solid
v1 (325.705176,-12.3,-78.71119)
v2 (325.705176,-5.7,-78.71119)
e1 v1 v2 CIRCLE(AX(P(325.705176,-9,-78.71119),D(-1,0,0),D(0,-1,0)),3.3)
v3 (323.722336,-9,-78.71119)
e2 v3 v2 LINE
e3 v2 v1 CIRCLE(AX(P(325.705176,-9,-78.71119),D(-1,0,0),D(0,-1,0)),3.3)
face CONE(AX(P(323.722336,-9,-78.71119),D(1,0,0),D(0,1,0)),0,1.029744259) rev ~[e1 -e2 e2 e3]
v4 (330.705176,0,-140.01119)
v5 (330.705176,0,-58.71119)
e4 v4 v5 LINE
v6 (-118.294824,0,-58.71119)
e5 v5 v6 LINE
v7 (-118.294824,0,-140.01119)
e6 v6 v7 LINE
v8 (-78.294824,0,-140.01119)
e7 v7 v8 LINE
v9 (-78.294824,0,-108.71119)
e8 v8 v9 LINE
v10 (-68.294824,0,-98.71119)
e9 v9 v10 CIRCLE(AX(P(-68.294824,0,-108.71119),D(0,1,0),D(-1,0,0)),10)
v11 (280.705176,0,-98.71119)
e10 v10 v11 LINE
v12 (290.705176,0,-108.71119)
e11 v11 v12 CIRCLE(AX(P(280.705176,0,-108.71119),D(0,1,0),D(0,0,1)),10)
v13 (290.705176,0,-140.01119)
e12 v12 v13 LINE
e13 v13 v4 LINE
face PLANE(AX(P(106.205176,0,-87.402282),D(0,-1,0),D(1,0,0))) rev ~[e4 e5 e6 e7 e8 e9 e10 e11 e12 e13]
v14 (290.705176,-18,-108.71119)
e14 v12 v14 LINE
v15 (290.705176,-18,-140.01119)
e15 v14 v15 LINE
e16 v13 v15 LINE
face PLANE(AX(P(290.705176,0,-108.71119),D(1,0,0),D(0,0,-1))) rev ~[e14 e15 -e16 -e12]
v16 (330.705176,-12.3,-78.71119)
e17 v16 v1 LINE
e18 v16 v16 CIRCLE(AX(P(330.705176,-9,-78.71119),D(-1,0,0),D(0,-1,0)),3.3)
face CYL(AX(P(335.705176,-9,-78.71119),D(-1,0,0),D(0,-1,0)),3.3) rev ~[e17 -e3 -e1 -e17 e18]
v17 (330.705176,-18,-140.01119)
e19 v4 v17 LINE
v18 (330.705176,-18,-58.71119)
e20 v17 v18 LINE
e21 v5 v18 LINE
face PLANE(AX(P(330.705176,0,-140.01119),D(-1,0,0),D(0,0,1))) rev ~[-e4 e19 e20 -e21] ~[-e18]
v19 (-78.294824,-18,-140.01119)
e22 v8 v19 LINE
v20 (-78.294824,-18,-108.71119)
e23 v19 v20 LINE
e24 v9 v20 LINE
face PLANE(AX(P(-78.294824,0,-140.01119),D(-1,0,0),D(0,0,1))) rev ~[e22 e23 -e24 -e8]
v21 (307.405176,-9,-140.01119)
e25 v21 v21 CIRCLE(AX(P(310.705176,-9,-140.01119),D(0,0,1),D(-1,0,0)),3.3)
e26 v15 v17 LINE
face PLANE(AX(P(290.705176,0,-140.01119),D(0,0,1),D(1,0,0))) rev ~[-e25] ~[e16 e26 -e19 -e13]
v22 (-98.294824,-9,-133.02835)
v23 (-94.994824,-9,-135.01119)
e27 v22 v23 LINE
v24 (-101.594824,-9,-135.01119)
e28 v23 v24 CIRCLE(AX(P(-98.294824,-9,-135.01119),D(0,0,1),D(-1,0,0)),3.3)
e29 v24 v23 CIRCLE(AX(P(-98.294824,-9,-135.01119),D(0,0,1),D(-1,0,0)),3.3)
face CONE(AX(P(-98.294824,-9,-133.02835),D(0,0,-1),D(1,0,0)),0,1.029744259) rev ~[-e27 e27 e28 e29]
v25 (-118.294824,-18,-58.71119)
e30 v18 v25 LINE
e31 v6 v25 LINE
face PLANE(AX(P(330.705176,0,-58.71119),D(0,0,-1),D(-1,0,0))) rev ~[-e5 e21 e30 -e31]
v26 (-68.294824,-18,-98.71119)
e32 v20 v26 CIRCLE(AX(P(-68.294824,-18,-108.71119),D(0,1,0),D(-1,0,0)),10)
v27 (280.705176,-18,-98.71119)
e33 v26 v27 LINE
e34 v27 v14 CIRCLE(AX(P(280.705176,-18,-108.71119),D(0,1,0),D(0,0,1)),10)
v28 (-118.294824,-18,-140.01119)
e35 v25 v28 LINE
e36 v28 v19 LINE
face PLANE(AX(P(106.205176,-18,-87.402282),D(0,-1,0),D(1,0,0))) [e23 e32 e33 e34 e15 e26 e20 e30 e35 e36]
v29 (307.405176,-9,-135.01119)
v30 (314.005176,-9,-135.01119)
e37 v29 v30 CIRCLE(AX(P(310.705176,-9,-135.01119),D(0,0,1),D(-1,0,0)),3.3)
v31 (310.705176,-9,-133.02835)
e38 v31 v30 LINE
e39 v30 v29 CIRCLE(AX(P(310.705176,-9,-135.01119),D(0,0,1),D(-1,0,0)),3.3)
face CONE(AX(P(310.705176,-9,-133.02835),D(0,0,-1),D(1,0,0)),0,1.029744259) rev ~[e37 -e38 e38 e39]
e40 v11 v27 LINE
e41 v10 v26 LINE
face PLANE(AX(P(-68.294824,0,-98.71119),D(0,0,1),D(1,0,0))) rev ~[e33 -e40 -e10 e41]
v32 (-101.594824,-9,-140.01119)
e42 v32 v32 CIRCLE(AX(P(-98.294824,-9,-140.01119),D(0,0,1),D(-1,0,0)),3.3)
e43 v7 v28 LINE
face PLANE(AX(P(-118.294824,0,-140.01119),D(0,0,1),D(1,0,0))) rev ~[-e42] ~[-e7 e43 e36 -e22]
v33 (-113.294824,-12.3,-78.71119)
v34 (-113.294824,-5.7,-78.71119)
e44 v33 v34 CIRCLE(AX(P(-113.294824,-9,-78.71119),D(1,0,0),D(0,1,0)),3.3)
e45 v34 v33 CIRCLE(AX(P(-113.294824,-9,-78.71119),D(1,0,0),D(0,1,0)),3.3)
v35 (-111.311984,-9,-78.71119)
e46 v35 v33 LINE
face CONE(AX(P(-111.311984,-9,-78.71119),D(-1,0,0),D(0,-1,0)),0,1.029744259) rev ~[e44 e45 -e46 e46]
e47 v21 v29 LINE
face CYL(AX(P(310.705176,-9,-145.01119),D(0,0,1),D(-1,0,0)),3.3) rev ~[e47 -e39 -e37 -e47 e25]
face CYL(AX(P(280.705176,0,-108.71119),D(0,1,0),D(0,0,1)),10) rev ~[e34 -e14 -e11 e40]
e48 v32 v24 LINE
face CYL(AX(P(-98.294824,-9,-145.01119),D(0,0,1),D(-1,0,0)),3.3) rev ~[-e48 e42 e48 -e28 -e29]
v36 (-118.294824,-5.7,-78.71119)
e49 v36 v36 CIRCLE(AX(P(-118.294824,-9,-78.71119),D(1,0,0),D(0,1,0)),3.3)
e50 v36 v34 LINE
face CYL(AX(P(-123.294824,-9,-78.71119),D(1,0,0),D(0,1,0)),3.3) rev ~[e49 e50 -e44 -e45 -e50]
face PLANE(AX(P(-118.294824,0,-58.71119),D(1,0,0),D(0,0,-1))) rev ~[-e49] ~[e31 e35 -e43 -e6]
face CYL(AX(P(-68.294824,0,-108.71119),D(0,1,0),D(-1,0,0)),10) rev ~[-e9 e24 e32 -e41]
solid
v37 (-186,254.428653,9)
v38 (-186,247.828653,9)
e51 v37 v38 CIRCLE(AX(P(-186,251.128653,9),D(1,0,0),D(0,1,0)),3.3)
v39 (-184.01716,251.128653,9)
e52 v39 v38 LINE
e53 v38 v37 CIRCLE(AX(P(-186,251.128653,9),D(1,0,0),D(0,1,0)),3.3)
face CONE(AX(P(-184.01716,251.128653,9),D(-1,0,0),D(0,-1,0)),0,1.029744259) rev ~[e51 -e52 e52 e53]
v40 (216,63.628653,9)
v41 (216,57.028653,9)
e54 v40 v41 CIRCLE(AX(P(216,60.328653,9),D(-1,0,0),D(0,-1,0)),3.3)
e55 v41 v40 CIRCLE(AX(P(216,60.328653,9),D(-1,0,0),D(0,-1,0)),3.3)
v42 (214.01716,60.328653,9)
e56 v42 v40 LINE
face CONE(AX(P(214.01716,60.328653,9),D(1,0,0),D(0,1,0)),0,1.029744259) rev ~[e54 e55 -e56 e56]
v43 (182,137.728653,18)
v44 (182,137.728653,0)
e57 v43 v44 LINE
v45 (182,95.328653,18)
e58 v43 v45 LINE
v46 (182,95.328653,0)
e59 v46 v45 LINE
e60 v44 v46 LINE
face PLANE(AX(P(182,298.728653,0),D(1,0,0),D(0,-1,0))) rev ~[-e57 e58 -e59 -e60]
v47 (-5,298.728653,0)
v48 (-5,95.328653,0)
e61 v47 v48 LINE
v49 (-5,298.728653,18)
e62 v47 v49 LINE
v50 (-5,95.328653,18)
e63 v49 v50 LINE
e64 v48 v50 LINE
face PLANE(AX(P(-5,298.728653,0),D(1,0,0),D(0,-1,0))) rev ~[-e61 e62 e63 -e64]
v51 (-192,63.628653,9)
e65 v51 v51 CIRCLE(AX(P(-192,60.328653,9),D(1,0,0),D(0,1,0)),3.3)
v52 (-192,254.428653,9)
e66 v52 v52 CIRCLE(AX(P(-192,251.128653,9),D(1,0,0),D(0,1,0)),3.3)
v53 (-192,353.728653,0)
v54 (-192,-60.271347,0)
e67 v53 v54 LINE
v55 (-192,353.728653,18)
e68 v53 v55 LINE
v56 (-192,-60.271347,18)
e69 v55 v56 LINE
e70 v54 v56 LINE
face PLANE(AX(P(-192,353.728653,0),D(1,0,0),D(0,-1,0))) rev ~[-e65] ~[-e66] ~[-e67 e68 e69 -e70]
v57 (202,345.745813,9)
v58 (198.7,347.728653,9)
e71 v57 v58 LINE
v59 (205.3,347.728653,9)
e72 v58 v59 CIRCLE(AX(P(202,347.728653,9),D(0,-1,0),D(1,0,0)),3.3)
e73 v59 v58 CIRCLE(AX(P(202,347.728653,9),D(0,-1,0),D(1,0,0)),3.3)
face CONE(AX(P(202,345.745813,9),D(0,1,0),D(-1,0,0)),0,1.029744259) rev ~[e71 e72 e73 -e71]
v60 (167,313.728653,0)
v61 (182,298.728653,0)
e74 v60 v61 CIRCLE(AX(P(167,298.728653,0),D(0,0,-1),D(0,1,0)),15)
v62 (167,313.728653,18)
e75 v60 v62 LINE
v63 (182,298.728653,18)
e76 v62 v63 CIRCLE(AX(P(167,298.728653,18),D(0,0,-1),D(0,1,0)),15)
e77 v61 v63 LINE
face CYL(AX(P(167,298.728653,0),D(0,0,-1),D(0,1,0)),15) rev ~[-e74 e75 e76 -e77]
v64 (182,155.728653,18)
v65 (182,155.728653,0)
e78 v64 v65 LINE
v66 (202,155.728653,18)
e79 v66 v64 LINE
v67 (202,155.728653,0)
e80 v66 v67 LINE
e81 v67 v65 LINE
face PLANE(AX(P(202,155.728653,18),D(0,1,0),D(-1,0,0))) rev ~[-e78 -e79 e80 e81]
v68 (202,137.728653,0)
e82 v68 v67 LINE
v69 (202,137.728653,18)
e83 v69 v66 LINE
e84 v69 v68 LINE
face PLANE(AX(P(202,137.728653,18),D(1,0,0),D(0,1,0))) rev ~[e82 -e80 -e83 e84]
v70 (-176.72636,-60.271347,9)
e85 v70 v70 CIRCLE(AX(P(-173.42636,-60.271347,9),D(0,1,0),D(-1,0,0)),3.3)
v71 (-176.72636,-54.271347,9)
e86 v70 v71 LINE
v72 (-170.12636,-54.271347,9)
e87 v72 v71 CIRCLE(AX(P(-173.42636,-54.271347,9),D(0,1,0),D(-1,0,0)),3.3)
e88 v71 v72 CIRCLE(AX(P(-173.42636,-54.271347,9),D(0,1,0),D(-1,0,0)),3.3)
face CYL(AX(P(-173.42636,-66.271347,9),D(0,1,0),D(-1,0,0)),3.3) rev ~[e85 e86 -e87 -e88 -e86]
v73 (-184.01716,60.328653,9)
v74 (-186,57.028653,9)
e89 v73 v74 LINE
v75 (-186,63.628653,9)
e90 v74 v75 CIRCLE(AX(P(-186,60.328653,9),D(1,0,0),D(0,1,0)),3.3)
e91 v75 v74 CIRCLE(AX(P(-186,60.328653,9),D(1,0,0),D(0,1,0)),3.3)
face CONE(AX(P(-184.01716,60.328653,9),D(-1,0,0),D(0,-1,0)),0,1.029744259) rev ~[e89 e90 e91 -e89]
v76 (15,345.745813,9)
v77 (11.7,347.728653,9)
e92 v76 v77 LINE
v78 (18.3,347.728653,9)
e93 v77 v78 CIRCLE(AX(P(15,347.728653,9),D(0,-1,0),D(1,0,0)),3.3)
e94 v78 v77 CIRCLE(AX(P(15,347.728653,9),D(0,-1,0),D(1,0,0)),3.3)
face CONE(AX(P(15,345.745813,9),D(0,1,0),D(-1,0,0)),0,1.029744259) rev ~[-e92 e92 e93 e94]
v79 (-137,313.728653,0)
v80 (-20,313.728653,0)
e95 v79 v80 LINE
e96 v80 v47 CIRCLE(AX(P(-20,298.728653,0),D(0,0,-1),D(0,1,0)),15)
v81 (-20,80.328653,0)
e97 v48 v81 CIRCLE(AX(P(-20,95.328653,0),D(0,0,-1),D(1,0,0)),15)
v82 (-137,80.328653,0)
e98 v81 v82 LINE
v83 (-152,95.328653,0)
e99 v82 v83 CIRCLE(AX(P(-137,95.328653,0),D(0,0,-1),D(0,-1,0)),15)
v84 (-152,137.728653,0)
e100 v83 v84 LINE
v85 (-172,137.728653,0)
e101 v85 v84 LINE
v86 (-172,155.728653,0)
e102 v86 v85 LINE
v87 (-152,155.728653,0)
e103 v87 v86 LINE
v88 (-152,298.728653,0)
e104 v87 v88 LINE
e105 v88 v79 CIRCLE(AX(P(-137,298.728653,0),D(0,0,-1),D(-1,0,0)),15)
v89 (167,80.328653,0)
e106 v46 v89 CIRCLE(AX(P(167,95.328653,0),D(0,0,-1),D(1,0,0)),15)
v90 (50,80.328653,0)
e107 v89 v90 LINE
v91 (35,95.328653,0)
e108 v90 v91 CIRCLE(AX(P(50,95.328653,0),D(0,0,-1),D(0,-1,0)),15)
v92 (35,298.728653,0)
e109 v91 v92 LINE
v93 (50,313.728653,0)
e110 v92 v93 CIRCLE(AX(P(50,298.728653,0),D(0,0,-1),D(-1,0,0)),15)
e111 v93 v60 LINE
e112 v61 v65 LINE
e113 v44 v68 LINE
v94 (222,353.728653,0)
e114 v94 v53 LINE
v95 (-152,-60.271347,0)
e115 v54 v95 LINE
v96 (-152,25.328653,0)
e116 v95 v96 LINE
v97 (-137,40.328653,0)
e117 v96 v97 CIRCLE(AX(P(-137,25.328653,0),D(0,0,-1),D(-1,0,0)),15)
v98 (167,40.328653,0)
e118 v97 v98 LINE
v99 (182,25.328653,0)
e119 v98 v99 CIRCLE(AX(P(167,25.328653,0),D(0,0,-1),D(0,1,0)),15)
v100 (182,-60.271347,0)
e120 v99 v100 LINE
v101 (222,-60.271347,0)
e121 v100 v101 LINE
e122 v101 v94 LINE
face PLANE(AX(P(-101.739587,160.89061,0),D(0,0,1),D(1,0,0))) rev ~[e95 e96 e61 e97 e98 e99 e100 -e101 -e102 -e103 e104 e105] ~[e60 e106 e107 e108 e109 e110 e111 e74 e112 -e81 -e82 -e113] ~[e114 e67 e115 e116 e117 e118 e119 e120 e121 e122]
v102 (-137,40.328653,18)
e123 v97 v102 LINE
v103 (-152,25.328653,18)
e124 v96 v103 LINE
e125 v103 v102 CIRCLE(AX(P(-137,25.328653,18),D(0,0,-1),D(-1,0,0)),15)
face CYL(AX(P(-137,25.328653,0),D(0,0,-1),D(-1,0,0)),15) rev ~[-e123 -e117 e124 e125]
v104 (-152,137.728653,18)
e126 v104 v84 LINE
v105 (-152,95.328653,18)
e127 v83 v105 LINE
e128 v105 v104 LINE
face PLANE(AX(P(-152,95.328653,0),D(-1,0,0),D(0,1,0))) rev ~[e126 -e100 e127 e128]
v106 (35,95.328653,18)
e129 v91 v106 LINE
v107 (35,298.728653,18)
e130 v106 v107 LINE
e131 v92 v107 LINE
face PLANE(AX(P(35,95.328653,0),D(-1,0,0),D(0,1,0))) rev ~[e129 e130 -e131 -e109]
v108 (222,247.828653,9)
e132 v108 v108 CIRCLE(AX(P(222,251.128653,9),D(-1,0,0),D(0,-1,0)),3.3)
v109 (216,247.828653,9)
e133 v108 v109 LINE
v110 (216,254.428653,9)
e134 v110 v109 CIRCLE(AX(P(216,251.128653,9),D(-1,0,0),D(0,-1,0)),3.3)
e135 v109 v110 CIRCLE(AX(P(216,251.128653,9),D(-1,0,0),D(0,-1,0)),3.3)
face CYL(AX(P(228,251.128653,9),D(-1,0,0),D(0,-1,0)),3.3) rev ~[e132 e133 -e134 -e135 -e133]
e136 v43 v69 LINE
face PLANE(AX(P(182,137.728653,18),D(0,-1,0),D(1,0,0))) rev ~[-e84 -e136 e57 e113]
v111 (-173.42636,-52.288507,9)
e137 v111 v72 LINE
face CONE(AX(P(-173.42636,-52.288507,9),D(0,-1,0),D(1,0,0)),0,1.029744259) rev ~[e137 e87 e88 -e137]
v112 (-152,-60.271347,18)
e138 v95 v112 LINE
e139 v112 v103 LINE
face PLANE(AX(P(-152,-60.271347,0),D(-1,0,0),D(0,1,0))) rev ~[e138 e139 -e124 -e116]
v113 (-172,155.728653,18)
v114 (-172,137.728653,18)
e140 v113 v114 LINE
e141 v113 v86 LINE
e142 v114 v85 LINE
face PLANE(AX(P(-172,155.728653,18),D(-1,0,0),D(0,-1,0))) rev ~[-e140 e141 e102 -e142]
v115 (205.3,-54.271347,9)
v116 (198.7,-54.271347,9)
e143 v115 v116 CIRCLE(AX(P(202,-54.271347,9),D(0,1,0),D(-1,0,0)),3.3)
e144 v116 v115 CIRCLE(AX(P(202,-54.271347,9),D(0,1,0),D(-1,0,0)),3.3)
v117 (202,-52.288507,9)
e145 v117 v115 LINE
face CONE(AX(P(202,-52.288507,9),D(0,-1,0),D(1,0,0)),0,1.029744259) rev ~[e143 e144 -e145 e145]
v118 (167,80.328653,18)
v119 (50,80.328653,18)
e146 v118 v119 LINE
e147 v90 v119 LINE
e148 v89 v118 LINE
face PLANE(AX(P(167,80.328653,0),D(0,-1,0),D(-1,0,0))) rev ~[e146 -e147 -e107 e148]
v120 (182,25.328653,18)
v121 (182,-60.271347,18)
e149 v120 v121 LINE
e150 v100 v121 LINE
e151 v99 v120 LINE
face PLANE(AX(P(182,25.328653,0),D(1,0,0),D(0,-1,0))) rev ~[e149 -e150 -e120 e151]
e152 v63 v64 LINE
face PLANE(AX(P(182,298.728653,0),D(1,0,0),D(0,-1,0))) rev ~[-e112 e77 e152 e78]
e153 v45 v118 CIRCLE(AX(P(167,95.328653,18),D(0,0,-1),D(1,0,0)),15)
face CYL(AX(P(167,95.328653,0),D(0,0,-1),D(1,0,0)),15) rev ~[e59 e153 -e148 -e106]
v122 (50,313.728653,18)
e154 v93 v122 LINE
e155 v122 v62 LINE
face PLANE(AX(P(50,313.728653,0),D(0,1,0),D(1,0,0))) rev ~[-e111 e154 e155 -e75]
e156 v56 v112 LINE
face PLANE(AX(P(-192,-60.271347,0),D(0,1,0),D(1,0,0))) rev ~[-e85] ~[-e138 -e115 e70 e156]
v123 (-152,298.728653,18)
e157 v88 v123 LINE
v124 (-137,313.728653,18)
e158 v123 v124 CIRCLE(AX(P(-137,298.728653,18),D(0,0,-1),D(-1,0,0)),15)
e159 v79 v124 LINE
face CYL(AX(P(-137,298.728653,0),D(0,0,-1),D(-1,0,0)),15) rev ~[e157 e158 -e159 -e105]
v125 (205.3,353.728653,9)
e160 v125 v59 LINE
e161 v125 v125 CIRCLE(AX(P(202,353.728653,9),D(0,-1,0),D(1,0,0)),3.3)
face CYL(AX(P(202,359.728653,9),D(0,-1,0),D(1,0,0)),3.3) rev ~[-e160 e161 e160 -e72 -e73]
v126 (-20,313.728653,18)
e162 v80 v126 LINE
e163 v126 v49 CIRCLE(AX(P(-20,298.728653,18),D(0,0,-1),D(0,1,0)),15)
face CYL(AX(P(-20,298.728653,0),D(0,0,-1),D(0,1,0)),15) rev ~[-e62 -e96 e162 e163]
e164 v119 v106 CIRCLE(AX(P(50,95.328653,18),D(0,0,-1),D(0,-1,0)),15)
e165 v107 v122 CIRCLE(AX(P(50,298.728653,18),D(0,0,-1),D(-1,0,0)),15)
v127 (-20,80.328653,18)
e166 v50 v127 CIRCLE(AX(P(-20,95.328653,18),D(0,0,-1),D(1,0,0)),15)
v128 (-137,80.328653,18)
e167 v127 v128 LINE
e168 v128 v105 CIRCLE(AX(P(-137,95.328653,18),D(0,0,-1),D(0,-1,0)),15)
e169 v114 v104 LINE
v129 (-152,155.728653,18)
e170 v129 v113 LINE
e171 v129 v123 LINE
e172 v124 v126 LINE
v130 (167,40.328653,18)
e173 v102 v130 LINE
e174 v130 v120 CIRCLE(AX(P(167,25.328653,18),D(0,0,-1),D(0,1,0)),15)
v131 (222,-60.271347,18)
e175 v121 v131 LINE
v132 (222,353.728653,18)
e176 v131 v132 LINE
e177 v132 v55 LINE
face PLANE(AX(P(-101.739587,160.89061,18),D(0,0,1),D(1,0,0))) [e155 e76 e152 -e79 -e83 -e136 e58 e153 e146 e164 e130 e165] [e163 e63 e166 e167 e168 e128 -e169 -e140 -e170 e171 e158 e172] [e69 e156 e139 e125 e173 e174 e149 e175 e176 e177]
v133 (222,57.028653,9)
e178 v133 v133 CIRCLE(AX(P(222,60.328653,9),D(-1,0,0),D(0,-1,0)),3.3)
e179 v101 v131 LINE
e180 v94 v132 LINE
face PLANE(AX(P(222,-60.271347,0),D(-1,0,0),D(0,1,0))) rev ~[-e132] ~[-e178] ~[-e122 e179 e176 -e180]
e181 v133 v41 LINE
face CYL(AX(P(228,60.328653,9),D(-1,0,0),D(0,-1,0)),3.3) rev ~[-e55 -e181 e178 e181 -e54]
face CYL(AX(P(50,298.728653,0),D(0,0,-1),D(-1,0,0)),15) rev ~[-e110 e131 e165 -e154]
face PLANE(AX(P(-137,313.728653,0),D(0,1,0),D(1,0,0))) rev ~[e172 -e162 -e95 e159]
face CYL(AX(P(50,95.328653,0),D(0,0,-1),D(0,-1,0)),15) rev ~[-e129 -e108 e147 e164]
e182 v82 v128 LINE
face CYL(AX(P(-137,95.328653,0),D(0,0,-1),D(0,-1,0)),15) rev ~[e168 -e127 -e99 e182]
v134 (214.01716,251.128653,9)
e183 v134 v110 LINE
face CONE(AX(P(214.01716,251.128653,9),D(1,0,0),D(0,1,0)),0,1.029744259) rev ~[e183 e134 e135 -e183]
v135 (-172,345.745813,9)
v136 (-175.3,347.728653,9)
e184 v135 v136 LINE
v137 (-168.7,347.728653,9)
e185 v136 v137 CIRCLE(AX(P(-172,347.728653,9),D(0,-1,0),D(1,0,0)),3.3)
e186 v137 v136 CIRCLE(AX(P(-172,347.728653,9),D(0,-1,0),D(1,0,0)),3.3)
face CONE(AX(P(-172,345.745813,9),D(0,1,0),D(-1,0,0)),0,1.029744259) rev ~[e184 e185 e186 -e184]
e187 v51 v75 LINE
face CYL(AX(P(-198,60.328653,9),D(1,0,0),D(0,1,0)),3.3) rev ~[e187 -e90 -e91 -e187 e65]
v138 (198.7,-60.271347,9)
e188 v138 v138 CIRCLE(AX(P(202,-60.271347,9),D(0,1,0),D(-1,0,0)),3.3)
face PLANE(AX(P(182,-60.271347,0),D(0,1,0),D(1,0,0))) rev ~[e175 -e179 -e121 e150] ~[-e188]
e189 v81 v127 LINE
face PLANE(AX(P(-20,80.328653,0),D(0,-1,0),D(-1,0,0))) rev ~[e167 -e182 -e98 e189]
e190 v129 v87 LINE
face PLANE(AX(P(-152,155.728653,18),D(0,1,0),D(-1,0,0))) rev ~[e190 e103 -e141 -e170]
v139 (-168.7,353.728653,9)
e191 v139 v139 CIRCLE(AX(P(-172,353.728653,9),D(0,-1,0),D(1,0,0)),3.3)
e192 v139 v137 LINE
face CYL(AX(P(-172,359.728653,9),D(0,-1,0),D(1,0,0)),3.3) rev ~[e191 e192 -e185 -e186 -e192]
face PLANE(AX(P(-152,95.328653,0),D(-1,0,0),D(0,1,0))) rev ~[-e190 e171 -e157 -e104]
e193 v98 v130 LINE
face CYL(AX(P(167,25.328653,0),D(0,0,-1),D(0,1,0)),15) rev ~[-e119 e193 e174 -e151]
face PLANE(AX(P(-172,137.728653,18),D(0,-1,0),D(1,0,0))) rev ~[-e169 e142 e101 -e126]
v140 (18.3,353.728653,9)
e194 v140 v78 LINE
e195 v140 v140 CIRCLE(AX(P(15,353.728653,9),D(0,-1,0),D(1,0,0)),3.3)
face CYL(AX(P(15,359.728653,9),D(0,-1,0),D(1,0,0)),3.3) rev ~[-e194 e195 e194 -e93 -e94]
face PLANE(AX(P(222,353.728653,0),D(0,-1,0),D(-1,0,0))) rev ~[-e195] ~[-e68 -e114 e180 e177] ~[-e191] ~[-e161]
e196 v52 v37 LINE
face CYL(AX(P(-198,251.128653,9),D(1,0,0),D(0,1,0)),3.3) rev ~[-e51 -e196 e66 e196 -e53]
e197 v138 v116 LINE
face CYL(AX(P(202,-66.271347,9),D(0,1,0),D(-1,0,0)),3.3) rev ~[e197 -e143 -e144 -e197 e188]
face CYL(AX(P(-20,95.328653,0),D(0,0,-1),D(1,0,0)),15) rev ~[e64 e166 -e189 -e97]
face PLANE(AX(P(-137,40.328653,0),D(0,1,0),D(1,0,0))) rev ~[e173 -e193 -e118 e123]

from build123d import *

# Parameters (mm, degrees)
F1_DEPTH         = 18
F6_D             = 6.6
F6_DEPTH         = 6
F6_TIP           = 1.9828400428
F6_ON_F5_D       = 6.6
F6_ON_F5_DEPTH   = 6
F6_ON_F5_TIP     = 1.9828400428
F6_ON_F2_D       = 6.6
F6_ON_F2_DEPTH   = 6
F6_ON_F2_TIP     = 1.9828400428
F6_ON_F4_D       = 6.6
F6_ON_F4_DEPTH   = 6
F6_ON_F4_TIP     = 1.9828400428
F7_ANGLE         = 90
F8_ANGLE         = -90
F10_DEPTH        = 18
F12_DEPTH        = 18
F17_D            = 6.6
F17_DEPTH        = 5
F17_TIP          = 1.9828400428
F17_ON_F15_D     = 6.6
F17_ON_F15_DEPTH = 5
F17_ON_F15_TIP   = 1.9828400428
F17_ON_F16_D     = 6.6
F17_ON_F16_DEPTH = 5
F17_ON_F16_TIP   = 1.9828400428
F17_ON_F14_D     = 6.6
F17_ON_F14_DEPTH = 5
F17_ON_F14_TIP   = 1.9828400428


with BuildPart() as f1:
    # F0 (on Top) → F1 (new body)
    with BuildSketch(Plane.XY):
        with BuildLine():
            Line((15, 353.7286525786), (-192, 353.7286525786))
            Line((-192, 353.7286525786), (-192, -60.2713474214))
            Line((-192, -60.2713474214), (-152, -60.2713474214))
            Line((-152, -60.2713474214), (-152, 25.3286525786))
            ThreePointArc((-152, 25.3286525786), (-147.6066017178, 35.9352542964), (-137, 40.3286525786))
            Line((-137, 40.3286525786), (15, 40.3286525786))
            Line((15, 40.3286525786), (15, 353.7286525786))
        make_face()
        with BuildLine():
            ThreePointArc((-20, 313.7286525786), (-9.3933982822, 309.3352542964), (-5, 298.7286525786))
            Line((-5, 298.7286525786), (-5, 95.3286525786))
            ThreePointArc((-5, 95.3286525786), (-9.3933982822, 84.7220508608), (-20, 80.3286525786))
            Line((-20, 80.3286525786), (-137, 80.3286525786))
            ThreePointArc((-137, 80.3286525786), (-147.6066017178, 84.7220508608), (-152, 95.3286525786))
            Line((-152, 95.3286525786), (-152, 298.7286525786))
            ThreePointArc((-152, 298.7286525786), (-147.6066017178, 309.3352542964), (-137, 313.7286525786))
            Line((-137, 313.7286525786), (-20, 313.7286525786))
        make_face(mode=Mode.SUBTRACT)
        with BuildLine():
            Line((222, 353.7286525786), (15, 353.7286525786))
            Line((15, 353.7286525786), (15, 40.3286525786))
            Line((15, 40.3286525786), (167, 40.3286525786))
            ThreePointArc((167, 40.3286525786), (177.6066017178, 35.9352542964), (182, 25.3286525786))
            Line((182, 25.3286525786), (182, -60.2713474214))
            Line((182, -60.2713474214), (222, -60.2713474214))
            Line((222, -60.2713474214), (222, 353.7286525786))
        make_face()
        with BuildLine():
            ThreePointArc((35, 298.7286525786), (39.3933982822, 309.3352542964), (50, 313.7286525786))
            Line((50, 313.7286525786), (167, 313.7286525786))
            ThreePointArc((167, 313.7286525786), (177.6066017178, 309.3352542964), (182, 298.7286525786))
            Line((182, 298.7286525786), (182, 95.3286525786))
            ThreePointArc((182, 95.3286525786), (177.6066017178, 84.7220508608), (167, 80.3286525786))
            Line((167, 80.3286525786), (50, 80.3286525786))
            ThreePointArc((50, 80.3286525786), (39.3933982822, 84.7220508608), (35, 95.3286525786))
            Line((35, 95.3286525786), (35, 298.7286525786))
        make_face(mode=Mode.SUBTRACT)
    extrude(amount=F1_DEPTH)

    # F6
    with Locations(Plane.XZ.offset(60.2713474214)):
        with Locations((202, 9), (-173.4263598919, 9)):
            Hole(F6_D / 2, depth=F6_DEPTH)
            with Locations((0, 0, -(F6_DEPTH + F6_TIP / 2))):  # 118° drill point
                Cone(0, F6_D / 2, F6_TIP, mode=Mode.SUBTRACT)

    # F6 on F5
    with Locations(Plane(origin=(-192, 0, 0), x_dir=(0, -1, 0), z_dir=(-1, 0, 0))):
        with Locations((-60.3286525786, 9), (-251.1286525786, 9)):
            Hole(F6_ON_F5_D / 2, depth=F6_ON_F5_DEPTH)
            with Locations((0, 0, -(F6_ON_F5_DEPTH + F6_ON_F5_TIP / 2))):  # 118° drill point
                Cone(0, F6_ON_F5_D / 2, F6_ON_F5_TIP, mode=Mode.SUBTRACT)

    # F6 on F2
    with Locations(Plane(origin=(0, 353.7286525786, 0), x_dir=(-1, 0, 0), z_dir=(0, 1, 0))):
        with Locations((172, 9), (-15, 9), (-202, 9)):
            Hole(F6_ON_F2_D / 2, depth=F6_ON_F2_DEPTH)
            with Locations((0, 0, -(F6_ON_F2_DEPTH + F6_ON_F2_TIP / 2))):  # 118° drill point
                Cone(0, F6_ON_F2_D / 2, F6_ON_F2_TIP, mode=Mode.SUBTRACT)

    # F6 on F4
    with Locations(Plane.YZ.offset(222)):
        with Locations((60.3286525786, 9), (251.1286525786, 9)):
            Hole(F6_ON_F4_D / 2, depth=F6_ON_F4_DEPTH)
            with Locations((0, 0, -(F6_ON_F4_DEPTH + F6_ON_F4_TIP / 2))):  # 118° drill point
                Cone(0, F6_ON_F4_D / 2, F6_ON_F4_TIP, mode=Mode.SUBTRACT)


with BuildPart() as f1_1:
    # F7: moved
    add(f1.part.rotate(Axis((15, 353.7286525786, 18), (1, 0, 0)), F7_ANGLE))


with BuildPart() as f1_2:
    # F8: moved
    add(f1_1.part.rotate(Axis((15, 353.7286525786, 18), (1, 0, 0)), F8_ANGLE))

    # F9 (on face) → F10 (cut)
    with BuildSketch(Plane.XY.offset(18)):
        Polygon((-172, 155.7286525786), (-172, 146.7286525786), (-172, 137.7286525786), (-152, 137.7286525786), (-152, 155.7286525786), align=None)
        Polygon((202, 137.7286525786), (202, 146.7286525786), (202, 155.7286525786), (182, 155.7286525786), (182, 137.7286525786), align=None)
    extrude(amount=-F10_DEPTH, mode=Mode.SUBTRACT)


with BuildPart() as f12:
    # F11 (on Front) → F12 (new body)
    with BuildSketch(Plane.XZ):
        with BuildLine():
            Line((330.7051759626, -140.0111902357), (330.7051759626, -58.7111902357))
            Line((330.7051759626, -58.7111902357), (-118.2948240374, -58.7111902357))
            Line((-118.2948240374, -58.7111902357), (-118.2948240374, -140.0111902357))
            Line((-118.2948240374, -140.0111902357), (-78.2948240374, -140.0111902357))
            Line((-78.2948240374, -140.0111902357), (-78.2948240374, -108.7111902357))
            ThreePointArc((-78.2948240374, -108.7111902357), (-75.3658918492, -101.6401224238), (-68.2948240374, -98.7111902357))
            Line((-68.2948240374, -98.7111902357), (280.7051759626, -98.7111902357))
            ThreePointArc((280.7051759626, -98.7111902357), (287.7762437745, -101.6401224238), (290.7051759626, -108.7111902357))
            Line((290.7051759626, -108.7111902357), (290.7051759626, -140.0111902357))
            Line((290.7051759626, -140.0111902357), (330.7051759626, -140.0111902357))
        make_face()
    extrude(amount=F12_DEPTH)

    # F17
    with Locations(Plane(origin=(0, 0, -140.0111902357), x_dir=(1, 0, 0), z_dir=(0, 0, -1))):
        with Locations((-98.2948240374, 9)):
            Hole(F17_D / 2, depth=F17_DEPTH)
            with Locations((0, 0, -(F17_DEPTH + F17_TIP / 2))):  # 118° drill point
                Cone(0, F17_D / 2, F17_TIP, mode=Mode.SUBTRACT)

    # F17 on F15
    with Locations(Plane(origin=(-118.2948240374, 0, 0), x_dir=(0, -1, 0), z_dir=(-1, 0, 0))):
        with Locations((9, -78.7111902357)):
            Hole(F17_ON_F15_D / 2, depth=F17_ON_F15_DEPTH)
            with Locations((0, 0, -(F17_ON_F15_DEPTH + F17_ON_F15_TIP / 2))):  # 118° drill point
                Cone(0, F17_ON_F15_D / 2, F17_ON_F15_TIP, mode=Mode.SUBTRACT)

    # F17 on F16
    with Locations(Plane.YZ.offset(330.7051759626)):
        with Locations((-9, -78.7111902357)):
            Hole(F17_ON_F16_D / 2, depth=F17_ON_F16_DEPTH)
            with Locations((0, 0, -(F17_ON_F16_DEPTH + F17_ON_F16_TIP / 2))):  # 118° drill point
                Cone(0, F17_ON_F16_D / 2, F17_ON_F16_TIP, mode=Mode.SUBTRACT)

    # F17 on F14
    with Locations(Plane(origin=(0, 0, -140.0111902357), x_dir=(1, 0, 0), z_dir=(0, 0, -1))):
        with Locations((310.7051759626, 9)):
            Hole(F17_ON_F14_D / 2, depth=F17_ON_F14_DEPTH)
            with Locations((0, 0, -(F17_ON_F14_DEPTH + F17_ON_F14_TIP / 2))):  # 118° drill point
                Cone(0, F17_ON_F14_D / 2, F17_ON_F14_TIP, mode=Mode.SUBTRACT)


solid = Compound([f1_2.part, f12.part])
